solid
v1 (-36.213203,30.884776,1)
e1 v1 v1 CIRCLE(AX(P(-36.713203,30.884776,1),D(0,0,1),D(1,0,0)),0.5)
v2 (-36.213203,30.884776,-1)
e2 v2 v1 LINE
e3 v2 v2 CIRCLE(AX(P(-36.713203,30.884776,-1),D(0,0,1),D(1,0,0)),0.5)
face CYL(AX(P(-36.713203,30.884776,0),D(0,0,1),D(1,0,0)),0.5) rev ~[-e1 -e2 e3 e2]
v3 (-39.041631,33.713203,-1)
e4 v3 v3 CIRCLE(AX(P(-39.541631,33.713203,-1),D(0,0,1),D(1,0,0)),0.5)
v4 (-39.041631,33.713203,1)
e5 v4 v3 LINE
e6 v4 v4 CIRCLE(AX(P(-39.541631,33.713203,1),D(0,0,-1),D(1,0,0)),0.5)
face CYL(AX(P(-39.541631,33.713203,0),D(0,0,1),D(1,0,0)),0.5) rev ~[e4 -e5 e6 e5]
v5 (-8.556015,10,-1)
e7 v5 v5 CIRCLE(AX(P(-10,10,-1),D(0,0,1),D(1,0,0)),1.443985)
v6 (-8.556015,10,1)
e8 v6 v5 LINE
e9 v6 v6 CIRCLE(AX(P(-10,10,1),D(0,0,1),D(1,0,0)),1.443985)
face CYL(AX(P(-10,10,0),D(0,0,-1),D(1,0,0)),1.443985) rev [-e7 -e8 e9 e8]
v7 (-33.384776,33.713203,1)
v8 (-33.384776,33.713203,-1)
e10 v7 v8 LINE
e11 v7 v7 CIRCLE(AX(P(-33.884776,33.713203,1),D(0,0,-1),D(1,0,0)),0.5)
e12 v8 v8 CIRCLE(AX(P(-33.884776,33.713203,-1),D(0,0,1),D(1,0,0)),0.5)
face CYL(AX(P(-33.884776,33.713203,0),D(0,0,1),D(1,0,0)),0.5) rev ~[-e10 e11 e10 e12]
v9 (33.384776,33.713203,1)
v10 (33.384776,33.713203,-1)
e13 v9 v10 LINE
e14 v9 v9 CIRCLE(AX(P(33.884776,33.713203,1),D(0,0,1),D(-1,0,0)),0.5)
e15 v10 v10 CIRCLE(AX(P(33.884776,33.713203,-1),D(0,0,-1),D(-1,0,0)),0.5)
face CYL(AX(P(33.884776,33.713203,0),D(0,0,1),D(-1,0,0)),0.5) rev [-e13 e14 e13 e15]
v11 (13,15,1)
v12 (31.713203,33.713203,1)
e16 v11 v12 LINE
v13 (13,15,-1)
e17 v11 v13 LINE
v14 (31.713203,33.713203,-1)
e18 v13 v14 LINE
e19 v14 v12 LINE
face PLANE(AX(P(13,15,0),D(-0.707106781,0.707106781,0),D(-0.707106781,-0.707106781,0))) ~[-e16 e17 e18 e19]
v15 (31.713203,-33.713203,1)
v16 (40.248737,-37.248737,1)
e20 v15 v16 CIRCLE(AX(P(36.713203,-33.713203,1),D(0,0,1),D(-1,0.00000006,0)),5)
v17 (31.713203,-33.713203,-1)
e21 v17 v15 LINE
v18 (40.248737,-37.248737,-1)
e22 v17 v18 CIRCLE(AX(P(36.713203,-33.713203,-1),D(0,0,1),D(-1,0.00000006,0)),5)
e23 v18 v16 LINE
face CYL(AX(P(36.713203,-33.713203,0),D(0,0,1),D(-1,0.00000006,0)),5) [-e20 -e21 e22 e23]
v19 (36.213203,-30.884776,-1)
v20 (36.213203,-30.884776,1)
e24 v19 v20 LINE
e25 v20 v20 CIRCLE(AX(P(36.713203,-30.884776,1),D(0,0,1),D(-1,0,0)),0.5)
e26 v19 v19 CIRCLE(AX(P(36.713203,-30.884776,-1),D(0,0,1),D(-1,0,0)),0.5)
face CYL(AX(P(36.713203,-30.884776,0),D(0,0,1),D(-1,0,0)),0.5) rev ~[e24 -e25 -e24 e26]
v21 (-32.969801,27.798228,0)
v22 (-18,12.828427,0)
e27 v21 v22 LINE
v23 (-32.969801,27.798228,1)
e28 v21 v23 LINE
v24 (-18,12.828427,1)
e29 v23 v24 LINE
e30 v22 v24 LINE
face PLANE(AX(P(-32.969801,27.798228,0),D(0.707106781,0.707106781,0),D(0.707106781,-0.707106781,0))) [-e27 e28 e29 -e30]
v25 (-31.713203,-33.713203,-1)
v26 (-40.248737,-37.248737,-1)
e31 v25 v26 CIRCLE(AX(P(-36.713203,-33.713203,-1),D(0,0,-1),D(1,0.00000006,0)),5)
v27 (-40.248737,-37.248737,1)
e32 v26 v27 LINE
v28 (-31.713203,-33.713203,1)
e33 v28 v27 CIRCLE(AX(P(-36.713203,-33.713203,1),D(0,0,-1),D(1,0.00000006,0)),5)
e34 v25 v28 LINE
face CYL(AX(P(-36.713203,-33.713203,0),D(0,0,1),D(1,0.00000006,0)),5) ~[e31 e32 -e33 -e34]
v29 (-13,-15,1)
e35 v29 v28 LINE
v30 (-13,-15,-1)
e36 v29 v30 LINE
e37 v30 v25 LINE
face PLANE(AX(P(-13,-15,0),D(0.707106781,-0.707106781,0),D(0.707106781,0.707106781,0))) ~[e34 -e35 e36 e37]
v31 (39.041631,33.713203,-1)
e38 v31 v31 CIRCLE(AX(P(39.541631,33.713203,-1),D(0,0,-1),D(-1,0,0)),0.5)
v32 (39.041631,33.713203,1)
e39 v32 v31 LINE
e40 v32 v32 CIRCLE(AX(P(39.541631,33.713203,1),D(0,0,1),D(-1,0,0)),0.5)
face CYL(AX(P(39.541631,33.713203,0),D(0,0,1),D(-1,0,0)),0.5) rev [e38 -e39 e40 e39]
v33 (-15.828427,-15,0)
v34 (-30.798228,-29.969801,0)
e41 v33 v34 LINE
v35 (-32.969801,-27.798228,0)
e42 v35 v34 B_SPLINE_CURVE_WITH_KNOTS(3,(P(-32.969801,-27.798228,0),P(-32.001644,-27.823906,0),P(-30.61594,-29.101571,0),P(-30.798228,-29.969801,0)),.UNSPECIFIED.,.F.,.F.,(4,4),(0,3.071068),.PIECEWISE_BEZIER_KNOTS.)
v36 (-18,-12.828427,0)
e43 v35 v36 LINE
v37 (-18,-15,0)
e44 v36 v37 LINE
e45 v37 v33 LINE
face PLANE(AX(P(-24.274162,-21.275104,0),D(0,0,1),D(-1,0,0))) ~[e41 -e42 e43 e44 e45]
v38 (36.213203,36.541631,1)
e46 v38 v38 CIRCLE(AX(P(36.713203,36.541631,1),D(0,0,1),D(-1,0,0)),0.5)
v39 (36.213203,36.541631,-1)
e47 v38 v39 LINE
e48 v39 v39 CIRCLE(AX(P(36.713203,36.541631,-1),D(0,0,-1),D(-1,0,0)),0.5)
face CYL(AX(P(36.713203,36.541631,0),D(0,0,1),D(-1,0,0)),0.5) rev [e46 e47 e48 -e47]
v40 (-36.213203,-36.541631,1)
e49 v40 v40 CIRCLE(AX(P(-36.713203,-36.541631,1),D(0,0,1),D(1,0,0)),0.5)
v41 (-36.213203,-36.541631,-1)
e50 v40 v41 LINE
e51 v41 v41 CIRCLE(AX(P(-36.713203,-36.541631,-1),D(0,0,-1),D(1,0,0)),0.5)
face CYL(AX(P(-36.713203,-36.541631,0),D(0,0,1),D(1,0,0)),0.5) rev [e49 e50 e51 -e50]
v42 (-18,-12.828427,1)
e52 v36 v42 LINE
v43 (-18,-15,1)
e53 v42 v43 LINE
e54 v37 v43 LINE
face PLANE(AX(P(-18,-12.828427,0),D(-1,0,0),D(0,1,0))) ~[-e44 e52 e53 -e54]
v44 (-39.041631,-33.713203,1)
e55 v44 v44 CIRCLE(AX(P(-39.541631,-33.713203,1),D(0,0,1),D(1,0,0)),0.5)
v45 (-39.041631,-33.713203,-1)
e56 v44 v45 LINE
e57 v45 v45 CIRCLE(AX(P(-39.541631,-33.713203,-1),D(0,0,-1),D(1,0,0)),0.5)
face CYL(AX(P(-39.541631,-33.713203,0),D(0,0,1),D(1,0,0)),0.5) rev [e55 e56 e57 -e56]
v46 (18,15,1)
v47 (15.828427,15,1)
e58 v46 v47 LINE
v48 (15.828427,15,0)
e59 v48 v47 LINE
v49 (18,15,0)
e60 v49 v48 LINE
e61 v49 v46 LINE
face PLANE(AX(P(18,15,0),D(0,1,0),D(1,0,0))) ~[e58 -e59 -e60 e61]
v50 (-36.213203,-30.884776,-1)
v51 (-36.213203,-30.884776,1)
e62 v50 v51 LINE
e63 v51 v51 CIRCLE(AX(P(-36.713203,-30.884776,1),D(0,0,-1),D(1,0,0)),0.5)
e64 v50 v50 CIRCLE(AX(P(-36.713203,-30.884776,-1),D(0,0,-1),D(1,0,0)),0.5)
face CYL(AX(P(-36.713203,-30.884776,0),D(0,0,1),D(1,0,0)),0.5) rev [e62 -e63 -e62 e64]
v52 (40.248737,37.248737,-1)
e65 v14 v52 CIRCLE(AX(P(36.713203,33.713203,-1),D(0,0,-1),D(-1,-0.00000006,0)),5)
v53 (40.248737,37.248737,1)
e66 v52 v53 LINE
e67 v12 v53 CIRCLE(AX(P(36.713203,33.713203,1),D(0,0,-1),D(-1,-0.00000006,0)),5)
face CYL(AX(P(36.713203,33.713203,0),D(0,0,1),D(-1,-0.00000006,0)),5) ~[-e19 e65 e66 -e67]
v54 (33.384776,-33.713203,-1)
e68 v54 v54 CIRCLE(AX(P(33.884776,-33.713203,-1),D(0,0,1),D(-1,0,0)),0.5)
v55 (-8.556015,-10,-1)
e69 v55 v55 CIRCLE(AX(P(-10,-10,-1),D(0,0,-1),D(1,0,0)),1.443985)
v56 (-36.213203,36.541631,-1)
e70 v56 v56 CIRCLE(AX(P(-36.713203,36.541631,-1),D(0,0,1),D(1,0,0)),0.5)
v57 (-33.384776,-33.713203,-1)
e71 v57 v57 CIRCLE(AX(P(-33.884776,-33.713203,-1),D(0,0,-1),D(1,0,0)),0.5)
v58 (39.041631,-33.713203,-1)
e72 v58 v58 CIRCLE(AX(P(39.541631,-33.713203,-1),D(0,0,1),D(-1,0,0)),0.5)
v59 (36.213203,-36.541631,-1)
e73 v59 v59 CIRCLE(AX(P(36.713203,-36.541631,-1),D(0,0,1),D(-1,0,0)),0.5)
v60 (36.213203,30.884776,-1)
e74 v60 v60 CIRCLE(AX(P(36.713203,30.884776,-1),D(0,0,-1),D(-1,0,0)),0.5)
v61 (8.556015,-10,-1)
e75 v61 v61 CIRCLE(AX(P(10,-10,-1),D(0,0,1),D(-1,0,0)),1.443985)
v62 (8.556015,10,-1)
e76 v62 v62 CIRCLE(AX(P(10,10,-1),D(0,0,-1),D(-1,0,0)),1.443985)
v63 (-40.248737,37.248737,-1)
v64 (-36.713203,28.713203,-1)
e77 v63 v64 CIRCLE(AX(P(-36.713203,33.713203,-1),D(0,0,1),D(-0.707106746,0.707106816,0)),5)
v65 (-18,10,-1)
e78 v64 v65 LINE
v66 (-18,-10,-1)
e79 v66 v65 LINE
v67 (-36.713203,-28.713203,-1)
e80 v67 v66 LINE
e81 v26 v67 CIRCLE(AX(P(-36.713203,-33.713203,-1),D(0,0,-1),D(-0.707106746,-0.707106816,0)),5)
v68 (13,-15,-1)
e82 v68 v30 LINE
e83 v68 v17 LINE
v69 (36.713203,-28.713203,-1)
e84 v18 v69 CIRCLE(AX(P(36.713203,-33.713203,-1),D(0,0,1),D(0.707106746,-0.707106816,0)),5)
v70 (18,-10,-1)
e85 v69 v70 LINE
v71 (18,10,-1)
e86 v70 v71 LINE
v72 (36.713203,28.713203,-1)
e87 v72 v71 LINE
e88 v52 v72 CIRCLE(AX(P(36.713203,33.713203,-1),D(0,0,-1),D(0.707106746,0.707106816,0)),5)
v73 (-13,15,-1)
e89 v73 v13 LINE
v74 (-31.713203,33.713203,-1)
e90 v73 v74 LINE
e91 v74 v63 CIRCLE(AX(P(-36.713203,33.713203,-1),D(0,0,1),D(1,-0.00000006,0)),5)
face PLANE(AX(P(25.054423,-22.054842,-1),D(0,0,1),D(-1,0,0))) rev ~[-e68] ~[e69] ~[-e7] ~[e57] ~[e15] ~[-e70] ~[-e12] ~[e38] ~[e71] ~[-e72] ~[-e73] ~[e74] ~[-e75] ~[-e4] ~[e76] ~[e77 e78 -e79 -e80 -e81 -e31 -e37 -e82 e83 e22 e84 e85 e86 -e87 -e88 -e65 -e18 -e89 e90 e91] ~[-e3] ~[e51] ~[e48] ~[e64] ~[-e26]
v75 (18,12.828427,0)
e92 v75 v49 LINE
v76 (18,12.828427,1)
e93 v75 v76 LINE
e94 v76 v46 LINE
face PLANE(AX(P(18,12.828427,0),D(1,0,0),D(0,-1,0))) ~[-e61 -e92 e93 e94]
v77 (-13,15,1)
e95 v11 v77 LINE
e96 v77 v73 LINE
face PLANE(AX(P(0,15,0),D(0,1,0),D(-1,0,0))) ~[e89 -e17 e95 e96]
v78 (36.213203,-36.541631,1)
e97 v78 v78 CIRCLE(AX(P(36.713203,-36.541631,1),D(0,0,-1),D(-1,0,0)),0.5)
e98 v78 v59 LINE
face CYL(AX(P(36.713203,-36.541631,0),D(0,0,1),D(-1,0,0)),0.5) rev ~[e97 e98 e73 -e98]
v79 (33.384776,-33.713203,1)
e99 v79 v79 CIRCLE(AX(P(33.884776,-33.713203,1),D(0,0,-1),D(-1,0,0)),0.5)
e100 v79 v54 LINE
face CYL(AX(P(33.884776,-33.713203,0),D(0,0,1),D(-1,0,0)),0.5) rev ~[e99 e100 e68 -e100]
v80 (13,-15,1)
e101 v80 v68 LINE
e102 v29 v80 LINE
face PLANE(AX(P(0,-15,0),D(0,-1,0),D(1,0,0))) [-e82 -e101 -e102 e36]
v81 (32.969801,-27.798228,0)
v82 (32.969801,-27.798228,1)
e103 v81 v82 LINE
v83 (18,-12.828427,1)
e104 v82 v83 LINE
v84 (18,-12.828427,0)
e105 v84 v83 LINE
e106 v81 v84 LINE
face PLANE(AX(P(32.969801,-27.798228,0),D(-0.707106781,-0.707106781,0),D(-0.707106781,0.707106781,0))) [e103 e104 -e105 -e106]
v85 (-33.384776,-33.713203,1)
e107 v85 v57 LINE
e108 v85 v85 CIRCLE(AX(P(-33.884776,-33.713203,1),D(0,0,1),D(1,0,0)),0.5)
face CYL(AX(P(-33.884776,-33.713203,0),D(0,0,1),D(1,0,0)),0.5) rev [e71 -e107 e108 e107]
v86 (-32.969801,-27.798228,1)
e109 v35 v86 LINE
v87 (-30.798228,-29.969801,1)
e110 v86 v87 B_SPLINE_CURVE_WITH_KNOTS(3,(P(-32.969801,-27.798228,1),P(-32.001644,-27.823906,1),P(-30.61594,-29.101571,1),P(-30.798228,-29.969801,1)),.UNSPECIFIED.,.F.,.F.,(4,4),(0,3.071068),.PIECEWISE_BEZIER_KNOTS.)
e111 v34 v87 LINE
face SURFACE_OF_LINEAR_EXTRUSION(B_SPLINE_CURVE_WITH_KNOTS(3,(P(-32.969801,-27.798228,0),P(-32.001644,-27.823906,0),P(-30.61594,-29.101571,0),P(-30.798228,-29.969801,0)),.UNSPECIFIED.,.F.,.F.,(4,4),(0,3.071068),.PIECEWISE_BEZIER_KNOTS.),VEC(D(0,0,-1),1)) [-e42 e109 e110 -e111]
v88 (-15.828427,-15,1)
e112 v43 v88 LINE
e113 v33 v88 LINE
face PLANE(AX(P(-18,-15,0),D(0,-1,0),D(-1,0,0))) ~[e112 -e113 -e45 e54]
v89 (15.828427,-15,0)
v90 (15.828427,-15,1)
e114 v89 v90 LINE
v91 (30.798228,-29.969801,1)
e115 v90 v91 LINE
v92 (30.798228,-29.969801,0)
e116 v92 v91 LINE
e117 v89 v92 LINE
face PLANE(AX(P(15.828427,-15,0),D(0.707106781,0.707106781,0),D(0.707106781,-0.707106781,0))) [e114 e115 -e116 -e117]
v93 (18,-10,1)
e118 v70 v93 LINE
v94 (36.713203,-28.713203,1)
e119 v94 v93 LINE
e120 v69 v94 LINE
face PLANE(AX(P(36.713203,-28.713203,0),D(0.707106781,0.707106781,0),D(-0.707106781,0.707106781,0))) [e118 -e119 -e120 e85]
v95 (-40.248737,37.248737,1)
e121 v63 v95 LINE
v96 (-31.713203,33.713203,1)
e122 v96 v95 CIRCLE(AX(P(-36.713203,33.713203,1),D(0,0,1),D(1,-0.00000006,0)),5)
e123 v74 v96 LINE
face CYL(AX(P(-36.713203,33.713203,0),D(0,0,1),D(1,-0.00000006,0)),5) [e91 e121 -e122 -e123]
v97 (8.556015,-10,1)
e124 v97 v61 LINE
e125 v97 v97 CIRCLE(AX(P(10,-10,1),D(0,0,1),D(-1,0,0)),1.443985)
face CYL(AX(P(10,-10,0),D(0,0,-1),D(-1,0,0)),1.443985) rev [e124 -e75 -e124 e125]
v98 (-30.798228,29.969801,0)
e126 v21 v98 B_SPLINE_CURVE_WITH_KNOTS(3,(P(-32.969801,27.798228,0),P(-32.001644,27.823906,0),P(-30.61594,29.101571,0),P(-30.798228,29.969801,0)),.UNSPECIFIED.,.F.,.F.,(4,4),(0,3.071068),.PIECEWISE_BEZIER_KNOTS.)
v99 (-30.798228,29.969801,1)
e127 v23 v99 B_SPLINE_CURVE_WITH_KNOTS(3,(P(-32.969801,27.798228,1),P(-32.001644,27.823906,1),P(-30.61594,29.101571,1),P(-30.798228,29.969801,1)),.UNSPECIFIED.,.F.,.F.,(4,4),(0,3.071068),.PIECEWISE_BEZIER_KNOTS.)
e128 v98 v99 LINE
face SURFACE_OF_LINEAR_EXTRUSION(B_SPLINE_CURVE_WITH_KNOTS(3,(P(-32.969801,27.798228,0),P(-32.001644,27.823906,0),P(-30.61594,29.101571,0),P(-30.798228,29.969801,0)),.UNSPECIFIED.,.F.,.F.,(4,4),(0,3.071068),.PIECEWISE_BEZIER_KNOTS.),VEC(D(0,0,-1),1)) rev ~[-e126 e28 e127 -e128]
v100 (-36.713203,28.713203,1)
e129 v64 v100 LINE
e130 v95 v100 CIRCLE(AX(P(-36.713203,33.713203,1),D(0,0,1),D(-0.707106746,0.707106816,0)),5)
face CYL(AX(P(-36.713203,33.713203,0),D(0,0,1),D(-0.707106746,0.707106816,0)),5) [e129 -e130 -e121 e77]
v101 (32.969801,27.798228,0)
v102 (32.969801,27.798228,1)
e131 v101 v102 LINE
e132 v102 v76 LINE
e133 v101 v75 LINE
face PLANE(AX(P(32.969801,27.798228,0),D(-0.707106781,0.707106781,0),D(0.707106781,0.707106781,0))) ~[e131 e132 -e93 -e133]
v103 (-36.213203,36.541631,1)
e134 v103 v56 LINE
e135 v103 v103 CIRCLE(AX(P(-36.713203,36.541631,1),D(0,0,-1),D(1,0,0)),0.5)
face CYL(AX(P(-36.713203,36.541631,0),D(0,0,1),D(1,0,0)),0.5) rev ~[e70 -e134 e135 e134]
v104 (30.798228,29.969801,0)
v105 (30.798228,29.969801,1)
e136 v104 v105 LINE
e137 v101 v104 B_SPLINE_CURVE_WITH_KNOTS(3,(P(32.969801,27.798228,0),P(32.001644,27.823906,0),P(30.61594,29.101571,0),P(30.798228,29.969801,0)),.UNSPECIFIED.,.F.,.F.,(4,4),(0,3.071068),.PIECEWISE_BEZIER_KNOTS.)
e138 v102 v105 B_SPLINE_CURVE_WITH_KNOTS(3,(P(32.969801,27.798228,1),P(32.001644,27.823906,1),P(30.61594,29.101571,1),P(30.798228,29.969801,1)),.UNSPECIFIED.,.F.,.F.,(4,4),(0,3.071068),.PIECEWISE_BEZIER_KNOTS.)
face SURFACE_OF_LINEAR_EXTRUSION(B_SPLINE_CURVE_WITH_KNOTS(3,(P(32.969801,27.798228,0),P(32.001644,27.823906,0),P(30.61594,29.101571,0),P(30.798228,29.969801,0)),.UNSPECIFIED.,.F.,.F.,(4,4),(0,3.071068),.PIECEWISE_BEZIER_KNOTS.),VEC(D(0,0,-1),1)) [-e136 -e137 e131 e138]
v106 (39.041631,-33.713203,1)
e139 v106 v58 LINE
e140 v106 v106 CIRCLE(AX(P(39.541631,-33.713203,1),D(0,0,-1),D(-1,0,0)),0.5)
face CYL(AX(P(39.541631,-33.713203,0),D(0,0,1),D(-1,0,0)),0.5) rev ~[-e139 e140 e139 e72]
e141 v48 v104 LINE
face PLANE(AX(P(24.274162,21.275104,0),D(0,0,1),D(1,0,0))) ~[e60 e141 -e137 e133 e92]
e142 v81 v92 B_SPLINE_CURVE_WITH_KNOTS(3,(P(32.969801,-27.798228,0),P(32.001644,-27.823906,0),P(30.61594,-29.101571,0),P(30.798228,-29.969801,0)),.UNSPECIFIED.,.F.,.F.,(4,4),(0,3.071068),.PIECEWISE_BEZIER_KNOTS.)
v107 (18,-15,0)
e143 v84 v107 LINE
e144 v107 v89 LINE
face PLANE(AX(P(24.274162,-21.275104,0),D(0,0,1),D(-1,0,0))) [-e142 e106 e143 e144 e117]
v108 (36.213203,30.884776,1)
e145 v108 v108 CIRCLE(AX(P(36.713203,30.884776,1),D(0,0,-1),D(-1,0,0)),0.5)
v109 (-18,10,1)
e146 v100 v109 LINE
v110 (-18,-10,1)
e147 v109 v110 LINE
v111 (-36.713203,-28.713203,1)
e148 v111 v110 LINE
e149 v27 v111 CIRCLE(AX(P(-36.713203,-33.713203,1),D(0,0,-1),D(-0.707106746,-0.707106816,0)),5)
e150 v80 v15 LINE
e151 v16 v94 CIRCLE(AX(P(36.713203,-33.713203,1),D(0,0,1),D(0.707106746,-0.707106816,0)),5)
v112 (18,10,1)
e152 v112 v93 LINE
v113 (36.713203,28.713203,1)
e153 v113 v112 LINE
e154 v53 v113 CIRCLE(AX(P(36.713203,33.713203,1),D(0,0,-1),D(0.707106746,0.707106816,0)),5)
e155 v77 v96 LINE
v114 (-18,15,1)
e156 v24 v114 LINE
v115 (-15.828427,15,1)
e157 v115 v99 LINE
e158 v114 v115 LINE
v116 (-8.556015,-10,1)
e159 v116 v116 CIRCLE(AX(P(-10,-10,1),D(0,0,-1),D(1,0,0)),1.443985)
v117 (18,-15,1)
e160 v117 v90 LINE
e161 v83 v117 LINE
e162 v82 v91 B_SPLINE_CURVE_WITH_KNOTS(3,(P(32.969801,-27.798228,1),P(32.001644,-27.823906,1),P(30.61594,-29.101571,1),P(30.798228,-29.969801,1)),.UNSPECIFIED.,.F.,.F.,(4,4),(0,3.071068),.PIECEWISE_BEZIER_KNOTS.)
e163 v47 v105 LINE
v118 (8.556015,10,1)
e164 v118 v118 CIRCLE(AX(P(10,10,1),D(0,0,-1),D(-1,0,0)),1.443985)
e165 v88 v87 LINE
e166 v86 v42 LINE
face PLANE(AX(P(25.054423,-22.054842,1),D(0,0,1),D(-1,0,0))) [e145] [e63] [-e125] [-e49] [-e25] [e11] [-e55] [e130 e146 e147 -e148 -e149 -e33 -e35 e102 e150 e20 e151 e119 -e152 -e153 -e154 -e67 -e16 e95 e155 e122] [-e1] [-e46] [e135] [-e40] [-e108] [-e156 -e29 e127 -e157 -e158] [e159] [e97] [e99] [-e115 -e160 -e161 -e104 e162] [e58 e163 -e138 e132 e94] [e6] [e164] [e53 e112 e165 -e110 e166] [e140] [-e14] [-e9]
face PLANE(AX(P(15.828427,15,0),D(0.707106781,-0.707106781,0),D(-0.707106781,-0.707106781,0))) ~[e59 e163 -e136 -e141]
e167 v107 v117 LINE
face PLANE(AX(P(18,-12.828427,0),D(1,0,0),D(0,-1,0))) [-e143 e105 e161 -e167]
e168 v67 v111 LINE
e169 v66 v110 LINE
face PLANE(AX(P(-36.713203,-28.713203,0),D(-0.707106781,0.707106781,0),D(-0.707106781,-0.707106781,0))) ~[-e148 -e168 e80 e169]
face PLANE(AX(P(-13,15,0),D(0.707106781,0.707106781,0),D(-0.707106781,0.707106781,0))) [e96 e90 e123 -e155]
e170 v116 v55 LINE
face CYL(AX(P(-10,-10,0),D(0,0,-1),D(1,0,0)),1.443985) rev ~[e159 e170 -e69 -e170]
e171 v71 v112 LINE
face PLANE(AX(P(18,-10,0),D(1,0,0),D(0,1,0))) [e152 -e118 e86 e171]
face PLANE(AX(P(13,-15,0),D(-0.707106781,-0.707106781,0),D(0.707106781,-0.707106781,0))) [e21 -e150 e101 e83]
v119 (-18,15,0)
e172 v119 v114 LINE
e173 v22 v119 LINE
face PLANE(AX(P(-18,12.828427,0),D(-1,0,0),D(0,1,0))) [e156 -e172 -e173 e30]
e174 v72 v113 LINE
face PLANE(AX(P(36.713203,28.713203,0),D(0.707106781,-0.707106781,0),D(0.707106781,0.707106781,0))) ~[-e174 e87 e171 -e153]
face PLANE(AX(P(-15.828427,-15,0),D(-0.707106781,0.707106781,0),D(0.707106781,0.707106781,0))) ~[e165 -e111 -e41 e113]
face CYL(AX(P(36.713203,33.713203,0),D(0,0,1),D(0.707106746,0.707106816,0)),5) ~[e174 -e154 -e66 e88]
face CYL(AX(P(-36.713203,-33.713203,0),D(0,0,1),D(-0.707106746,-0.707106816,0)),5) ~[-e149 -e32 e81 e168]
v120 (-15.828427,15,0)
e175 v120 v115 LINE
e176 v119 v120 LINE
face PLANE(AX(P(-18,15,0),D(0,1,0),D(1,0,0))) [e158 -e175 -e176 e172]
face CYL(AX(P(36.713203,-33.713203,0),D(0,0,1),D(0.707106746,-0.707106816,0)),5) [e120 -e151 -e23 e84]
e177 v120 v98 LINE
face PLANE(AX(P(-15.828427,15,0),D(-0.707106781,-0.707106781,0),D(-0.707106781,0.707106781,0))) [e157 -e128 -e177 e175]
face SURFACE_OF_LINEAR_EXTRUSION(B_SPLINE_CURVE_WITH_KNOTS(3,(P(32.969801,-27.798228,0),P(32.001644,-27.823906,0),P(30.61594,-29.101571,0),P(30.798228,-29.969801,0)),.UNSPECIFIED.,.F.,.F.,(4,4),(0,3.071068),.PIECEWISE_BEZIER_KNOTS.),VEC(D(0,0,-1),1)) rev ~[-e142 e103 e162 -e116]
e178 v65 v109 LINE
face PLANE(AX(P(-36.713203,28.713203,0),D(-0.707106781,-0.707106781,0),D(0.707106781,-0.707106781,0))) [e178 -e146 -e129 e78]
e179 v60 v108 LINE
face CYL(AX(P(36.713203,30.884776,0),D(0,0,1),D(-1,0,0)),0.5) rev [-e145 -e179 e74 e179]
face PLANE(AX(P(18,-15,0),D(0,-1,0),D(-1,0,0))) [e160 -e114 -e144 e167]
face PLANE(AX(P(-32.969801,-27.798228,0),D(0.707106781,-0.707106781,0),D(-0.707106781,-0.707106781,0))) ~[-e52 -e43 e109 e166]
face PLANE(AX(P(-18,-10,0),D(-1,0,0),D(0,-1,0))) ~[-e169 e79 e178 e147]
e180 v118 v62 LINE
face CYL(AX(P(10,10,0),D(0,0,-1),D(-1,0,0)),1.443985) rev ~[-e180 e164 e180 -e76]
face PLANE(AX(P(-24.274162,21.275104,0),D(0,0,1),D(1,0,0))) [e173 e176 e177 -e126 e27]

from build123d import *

# Parameters (mm, degrees)
F0_R     = 1.443985
F0_R_2   = 0.5
F1_DEPTH = 1
F2_DEPTH = 12.5
F3_DEPTH = 1


with BuildPart() as f1:
    # F0 (on Top) → F1 (new body, symmetric)
    with BuildSketch(Plane.XY):
        with BuildLine():
            Line((-30.798228, 29.969801), (-15.828427, 15))
            Line((-15.828427, 15), (-13, 15))
            Line((-13, 15), (-31.713203, 33.713203))
            ThreePointArc((-31.713203, 33.713203), (-32.093806, 31.799786), (-33.17767, 30.17767))
            ThreePointArc((-33.17767, 30.17767), (-34.799786, 29.093806), (-36.713203, 28.713203))
            Line((-36.713203, 28.713203), (-18, 10))
            Line((-18, 10), (-18, 12.828427))
            Line((-18, 12.828427), (-32.969801, 27.798228))
            add(Edge.make_bspline(
                [(-32.969801, 27.798228), (-32.001644, 27.823906), (-30.61594, 29.101571), (-30.798228, 29.969801)],
                knots=[0, 0, 0, 0, 3.071068, 3.071068, 3.071068, 3.071068], degree=3))
        make_face()
        Polygon((0, 15), (-13, 15), (-18, 10), (-18, 0), (0, 0), align=None)
        with Locations((-10, 10)):
            Circle(F0_R, mode=Mode.SUBTRACT)
        Polygon((-15.828427, 15), (-18, 15), (-18, 12.828427), (-18, 10), (-13, 15), align=None)
        with BuildLine():
            ThreePointArc((-33.17767, 30.17767), (-32.093806, 31.799786), (-31.713203, 33.713203))
            Line((-31.713203, 33.713203), (-34.213203, 36.213203))
            Line((-34.213203, 36.213203), (-36.713203, 33.713203))
            Line((-36.713203, 33.713203), (-33.17767, 30.17767))
        make_face()
        with Locations((-33.884776, 33.713203)):
            Circle(F0_R_2, mode=Mode.SUBTRACT)
        with BuildLine():
            Line((-34.213203, 36.213203), (-31.713203, 33.713203))
            ThreePointArc((-31.713203, 33.713203), (-34.799786, 38.332601), (-40.248737, 37.248737))
            Line((-40.248737, 37.248737), (-36.713203, 33.713203))
            Line((-36.713203, 33.713203), (-34.213203, 36.213203))
        make_face()
        with Locations((-36.713203, 36.541631)):
            Circle(F0_R_2, mode=Mode.SUBTRACT)
        with BuildLine():
            Line((-18, 12.828427), (-18, 15))
            Line((-18, 15), (-15.828427, 15))
            Line((-15.828427, 15), (-30.798228, 29.969801))
            add(Edge.make_bspline(
                [(-32.969801, 27.798228), (-32.001644, 27.823906), (-30.61594, 29.101571), (-30.798228, 29.969801)],
                knots=[0, 0, 0, 0, 3.071068, 3.071068, 3.071068, 3.071068], degree=3))
            Line((-32.969801, 27.798228), (-18, 12.828427))
        make_face()
        with BuildLine():
            Line((-39.213203, 31.213203), (-36.713203, 28.713203))
            ThreePointArc((-36.713203, 28.713203), (-34.799786, 29.093806), (-33.17767, 30.17767))
            Line((-33.17767, 30.17767), (-36.713203, 33.713203))
            Line((-36.713203, 33.713203), (-39.213203, 31.213203))
        make_face()
        with Locations((-36.713203, 30.884776)):
            Circle(F0_R_2, mode=Mode.SUBTRACT)
        with BuildLine():
            ThreePointArc((-40.248737, 37.248737), (-41.332601, 31.799786), (-36.713203, 28.713203))
            Line((-36.713203, 28.713203), (-39.213203, 31.213203))
            Line((-39.213203, 31.213203), (-36.713203, 33.713203))
            Line((-36.713203, 33.713203), (-40.248737, 37.248737))
        make_face()
        with Locations((-39.541631, 33.713203)):
            Circle(F0_R_2, mode=Mode.SUBTRACT)
        with Locations((-36.713203, 30.884776)):
            Circle(F0_R_2)
        with Locations((-33.884776, 33.713203)):
            Circle(F0_R_2)
        with Locations((-39.541631, 33.713203)):
            Circle(F0_R_2)
        with Locations((-36.713203, 36.541631)):
            Circle(F0_R_2)
    extrude(amount=F1_DEPTH, both=True)

    # F0 (on Top) → F2 (cut, symmetric)
    with BuildSketch(Plane.XY):
        with Locations((-39.541631, 33.713203)):
            Circle(F0_R_2)
        with Locations((-36.713203, 36.541631)):
            Circle(F0_R_2)
        with Locations((-33.884776, 33.713203)):
            Circle(F0_R_2)
        with Locations((-36.713203, 30.884776)):
            Circle(F0_R_2)
    extrude(amount=F2_DEPTH, both=True, mode=Mode.SUBTRACT)

    # F0 (on Top) → F3 (cut)
    with BuildSketch(Plane.XY):
        with BuildLine():
            Line((-18, 12.828427), (-18, 15))
            Line((-18, 15), (-15.828427, 15))
            Line((-15.828427, 15), (-30.798228, 29.969801))
            add(Edge.make_bspline(
                [(-32.969801, 27.798228), (-32.001644, 27.823906), (-30.61594, 29.101571), (-30.798228, 29.969801)],
                knots=[0, 0, 0, 0, 3.071068, 3.071068, 3.071068, 3.071068], degree=3))
            Line((-32.969801, 27.798228), (-18, 12.828427))
        make_face()
    extrude(amount=F3_DEPTH, mode=Mode.SUBTRACT)

    # F4: F1 across plane


with BuildPart() as f1_1:
    add(f1.part)
    add(f1.part.mirror(Plane.XZ))

    # F5: F1 across plane


with BuildPart() as f1_2:
    add(f1_1.part)
    add(f1_1.part.mirror(Plane.YZ))


solid = f1_2.part
